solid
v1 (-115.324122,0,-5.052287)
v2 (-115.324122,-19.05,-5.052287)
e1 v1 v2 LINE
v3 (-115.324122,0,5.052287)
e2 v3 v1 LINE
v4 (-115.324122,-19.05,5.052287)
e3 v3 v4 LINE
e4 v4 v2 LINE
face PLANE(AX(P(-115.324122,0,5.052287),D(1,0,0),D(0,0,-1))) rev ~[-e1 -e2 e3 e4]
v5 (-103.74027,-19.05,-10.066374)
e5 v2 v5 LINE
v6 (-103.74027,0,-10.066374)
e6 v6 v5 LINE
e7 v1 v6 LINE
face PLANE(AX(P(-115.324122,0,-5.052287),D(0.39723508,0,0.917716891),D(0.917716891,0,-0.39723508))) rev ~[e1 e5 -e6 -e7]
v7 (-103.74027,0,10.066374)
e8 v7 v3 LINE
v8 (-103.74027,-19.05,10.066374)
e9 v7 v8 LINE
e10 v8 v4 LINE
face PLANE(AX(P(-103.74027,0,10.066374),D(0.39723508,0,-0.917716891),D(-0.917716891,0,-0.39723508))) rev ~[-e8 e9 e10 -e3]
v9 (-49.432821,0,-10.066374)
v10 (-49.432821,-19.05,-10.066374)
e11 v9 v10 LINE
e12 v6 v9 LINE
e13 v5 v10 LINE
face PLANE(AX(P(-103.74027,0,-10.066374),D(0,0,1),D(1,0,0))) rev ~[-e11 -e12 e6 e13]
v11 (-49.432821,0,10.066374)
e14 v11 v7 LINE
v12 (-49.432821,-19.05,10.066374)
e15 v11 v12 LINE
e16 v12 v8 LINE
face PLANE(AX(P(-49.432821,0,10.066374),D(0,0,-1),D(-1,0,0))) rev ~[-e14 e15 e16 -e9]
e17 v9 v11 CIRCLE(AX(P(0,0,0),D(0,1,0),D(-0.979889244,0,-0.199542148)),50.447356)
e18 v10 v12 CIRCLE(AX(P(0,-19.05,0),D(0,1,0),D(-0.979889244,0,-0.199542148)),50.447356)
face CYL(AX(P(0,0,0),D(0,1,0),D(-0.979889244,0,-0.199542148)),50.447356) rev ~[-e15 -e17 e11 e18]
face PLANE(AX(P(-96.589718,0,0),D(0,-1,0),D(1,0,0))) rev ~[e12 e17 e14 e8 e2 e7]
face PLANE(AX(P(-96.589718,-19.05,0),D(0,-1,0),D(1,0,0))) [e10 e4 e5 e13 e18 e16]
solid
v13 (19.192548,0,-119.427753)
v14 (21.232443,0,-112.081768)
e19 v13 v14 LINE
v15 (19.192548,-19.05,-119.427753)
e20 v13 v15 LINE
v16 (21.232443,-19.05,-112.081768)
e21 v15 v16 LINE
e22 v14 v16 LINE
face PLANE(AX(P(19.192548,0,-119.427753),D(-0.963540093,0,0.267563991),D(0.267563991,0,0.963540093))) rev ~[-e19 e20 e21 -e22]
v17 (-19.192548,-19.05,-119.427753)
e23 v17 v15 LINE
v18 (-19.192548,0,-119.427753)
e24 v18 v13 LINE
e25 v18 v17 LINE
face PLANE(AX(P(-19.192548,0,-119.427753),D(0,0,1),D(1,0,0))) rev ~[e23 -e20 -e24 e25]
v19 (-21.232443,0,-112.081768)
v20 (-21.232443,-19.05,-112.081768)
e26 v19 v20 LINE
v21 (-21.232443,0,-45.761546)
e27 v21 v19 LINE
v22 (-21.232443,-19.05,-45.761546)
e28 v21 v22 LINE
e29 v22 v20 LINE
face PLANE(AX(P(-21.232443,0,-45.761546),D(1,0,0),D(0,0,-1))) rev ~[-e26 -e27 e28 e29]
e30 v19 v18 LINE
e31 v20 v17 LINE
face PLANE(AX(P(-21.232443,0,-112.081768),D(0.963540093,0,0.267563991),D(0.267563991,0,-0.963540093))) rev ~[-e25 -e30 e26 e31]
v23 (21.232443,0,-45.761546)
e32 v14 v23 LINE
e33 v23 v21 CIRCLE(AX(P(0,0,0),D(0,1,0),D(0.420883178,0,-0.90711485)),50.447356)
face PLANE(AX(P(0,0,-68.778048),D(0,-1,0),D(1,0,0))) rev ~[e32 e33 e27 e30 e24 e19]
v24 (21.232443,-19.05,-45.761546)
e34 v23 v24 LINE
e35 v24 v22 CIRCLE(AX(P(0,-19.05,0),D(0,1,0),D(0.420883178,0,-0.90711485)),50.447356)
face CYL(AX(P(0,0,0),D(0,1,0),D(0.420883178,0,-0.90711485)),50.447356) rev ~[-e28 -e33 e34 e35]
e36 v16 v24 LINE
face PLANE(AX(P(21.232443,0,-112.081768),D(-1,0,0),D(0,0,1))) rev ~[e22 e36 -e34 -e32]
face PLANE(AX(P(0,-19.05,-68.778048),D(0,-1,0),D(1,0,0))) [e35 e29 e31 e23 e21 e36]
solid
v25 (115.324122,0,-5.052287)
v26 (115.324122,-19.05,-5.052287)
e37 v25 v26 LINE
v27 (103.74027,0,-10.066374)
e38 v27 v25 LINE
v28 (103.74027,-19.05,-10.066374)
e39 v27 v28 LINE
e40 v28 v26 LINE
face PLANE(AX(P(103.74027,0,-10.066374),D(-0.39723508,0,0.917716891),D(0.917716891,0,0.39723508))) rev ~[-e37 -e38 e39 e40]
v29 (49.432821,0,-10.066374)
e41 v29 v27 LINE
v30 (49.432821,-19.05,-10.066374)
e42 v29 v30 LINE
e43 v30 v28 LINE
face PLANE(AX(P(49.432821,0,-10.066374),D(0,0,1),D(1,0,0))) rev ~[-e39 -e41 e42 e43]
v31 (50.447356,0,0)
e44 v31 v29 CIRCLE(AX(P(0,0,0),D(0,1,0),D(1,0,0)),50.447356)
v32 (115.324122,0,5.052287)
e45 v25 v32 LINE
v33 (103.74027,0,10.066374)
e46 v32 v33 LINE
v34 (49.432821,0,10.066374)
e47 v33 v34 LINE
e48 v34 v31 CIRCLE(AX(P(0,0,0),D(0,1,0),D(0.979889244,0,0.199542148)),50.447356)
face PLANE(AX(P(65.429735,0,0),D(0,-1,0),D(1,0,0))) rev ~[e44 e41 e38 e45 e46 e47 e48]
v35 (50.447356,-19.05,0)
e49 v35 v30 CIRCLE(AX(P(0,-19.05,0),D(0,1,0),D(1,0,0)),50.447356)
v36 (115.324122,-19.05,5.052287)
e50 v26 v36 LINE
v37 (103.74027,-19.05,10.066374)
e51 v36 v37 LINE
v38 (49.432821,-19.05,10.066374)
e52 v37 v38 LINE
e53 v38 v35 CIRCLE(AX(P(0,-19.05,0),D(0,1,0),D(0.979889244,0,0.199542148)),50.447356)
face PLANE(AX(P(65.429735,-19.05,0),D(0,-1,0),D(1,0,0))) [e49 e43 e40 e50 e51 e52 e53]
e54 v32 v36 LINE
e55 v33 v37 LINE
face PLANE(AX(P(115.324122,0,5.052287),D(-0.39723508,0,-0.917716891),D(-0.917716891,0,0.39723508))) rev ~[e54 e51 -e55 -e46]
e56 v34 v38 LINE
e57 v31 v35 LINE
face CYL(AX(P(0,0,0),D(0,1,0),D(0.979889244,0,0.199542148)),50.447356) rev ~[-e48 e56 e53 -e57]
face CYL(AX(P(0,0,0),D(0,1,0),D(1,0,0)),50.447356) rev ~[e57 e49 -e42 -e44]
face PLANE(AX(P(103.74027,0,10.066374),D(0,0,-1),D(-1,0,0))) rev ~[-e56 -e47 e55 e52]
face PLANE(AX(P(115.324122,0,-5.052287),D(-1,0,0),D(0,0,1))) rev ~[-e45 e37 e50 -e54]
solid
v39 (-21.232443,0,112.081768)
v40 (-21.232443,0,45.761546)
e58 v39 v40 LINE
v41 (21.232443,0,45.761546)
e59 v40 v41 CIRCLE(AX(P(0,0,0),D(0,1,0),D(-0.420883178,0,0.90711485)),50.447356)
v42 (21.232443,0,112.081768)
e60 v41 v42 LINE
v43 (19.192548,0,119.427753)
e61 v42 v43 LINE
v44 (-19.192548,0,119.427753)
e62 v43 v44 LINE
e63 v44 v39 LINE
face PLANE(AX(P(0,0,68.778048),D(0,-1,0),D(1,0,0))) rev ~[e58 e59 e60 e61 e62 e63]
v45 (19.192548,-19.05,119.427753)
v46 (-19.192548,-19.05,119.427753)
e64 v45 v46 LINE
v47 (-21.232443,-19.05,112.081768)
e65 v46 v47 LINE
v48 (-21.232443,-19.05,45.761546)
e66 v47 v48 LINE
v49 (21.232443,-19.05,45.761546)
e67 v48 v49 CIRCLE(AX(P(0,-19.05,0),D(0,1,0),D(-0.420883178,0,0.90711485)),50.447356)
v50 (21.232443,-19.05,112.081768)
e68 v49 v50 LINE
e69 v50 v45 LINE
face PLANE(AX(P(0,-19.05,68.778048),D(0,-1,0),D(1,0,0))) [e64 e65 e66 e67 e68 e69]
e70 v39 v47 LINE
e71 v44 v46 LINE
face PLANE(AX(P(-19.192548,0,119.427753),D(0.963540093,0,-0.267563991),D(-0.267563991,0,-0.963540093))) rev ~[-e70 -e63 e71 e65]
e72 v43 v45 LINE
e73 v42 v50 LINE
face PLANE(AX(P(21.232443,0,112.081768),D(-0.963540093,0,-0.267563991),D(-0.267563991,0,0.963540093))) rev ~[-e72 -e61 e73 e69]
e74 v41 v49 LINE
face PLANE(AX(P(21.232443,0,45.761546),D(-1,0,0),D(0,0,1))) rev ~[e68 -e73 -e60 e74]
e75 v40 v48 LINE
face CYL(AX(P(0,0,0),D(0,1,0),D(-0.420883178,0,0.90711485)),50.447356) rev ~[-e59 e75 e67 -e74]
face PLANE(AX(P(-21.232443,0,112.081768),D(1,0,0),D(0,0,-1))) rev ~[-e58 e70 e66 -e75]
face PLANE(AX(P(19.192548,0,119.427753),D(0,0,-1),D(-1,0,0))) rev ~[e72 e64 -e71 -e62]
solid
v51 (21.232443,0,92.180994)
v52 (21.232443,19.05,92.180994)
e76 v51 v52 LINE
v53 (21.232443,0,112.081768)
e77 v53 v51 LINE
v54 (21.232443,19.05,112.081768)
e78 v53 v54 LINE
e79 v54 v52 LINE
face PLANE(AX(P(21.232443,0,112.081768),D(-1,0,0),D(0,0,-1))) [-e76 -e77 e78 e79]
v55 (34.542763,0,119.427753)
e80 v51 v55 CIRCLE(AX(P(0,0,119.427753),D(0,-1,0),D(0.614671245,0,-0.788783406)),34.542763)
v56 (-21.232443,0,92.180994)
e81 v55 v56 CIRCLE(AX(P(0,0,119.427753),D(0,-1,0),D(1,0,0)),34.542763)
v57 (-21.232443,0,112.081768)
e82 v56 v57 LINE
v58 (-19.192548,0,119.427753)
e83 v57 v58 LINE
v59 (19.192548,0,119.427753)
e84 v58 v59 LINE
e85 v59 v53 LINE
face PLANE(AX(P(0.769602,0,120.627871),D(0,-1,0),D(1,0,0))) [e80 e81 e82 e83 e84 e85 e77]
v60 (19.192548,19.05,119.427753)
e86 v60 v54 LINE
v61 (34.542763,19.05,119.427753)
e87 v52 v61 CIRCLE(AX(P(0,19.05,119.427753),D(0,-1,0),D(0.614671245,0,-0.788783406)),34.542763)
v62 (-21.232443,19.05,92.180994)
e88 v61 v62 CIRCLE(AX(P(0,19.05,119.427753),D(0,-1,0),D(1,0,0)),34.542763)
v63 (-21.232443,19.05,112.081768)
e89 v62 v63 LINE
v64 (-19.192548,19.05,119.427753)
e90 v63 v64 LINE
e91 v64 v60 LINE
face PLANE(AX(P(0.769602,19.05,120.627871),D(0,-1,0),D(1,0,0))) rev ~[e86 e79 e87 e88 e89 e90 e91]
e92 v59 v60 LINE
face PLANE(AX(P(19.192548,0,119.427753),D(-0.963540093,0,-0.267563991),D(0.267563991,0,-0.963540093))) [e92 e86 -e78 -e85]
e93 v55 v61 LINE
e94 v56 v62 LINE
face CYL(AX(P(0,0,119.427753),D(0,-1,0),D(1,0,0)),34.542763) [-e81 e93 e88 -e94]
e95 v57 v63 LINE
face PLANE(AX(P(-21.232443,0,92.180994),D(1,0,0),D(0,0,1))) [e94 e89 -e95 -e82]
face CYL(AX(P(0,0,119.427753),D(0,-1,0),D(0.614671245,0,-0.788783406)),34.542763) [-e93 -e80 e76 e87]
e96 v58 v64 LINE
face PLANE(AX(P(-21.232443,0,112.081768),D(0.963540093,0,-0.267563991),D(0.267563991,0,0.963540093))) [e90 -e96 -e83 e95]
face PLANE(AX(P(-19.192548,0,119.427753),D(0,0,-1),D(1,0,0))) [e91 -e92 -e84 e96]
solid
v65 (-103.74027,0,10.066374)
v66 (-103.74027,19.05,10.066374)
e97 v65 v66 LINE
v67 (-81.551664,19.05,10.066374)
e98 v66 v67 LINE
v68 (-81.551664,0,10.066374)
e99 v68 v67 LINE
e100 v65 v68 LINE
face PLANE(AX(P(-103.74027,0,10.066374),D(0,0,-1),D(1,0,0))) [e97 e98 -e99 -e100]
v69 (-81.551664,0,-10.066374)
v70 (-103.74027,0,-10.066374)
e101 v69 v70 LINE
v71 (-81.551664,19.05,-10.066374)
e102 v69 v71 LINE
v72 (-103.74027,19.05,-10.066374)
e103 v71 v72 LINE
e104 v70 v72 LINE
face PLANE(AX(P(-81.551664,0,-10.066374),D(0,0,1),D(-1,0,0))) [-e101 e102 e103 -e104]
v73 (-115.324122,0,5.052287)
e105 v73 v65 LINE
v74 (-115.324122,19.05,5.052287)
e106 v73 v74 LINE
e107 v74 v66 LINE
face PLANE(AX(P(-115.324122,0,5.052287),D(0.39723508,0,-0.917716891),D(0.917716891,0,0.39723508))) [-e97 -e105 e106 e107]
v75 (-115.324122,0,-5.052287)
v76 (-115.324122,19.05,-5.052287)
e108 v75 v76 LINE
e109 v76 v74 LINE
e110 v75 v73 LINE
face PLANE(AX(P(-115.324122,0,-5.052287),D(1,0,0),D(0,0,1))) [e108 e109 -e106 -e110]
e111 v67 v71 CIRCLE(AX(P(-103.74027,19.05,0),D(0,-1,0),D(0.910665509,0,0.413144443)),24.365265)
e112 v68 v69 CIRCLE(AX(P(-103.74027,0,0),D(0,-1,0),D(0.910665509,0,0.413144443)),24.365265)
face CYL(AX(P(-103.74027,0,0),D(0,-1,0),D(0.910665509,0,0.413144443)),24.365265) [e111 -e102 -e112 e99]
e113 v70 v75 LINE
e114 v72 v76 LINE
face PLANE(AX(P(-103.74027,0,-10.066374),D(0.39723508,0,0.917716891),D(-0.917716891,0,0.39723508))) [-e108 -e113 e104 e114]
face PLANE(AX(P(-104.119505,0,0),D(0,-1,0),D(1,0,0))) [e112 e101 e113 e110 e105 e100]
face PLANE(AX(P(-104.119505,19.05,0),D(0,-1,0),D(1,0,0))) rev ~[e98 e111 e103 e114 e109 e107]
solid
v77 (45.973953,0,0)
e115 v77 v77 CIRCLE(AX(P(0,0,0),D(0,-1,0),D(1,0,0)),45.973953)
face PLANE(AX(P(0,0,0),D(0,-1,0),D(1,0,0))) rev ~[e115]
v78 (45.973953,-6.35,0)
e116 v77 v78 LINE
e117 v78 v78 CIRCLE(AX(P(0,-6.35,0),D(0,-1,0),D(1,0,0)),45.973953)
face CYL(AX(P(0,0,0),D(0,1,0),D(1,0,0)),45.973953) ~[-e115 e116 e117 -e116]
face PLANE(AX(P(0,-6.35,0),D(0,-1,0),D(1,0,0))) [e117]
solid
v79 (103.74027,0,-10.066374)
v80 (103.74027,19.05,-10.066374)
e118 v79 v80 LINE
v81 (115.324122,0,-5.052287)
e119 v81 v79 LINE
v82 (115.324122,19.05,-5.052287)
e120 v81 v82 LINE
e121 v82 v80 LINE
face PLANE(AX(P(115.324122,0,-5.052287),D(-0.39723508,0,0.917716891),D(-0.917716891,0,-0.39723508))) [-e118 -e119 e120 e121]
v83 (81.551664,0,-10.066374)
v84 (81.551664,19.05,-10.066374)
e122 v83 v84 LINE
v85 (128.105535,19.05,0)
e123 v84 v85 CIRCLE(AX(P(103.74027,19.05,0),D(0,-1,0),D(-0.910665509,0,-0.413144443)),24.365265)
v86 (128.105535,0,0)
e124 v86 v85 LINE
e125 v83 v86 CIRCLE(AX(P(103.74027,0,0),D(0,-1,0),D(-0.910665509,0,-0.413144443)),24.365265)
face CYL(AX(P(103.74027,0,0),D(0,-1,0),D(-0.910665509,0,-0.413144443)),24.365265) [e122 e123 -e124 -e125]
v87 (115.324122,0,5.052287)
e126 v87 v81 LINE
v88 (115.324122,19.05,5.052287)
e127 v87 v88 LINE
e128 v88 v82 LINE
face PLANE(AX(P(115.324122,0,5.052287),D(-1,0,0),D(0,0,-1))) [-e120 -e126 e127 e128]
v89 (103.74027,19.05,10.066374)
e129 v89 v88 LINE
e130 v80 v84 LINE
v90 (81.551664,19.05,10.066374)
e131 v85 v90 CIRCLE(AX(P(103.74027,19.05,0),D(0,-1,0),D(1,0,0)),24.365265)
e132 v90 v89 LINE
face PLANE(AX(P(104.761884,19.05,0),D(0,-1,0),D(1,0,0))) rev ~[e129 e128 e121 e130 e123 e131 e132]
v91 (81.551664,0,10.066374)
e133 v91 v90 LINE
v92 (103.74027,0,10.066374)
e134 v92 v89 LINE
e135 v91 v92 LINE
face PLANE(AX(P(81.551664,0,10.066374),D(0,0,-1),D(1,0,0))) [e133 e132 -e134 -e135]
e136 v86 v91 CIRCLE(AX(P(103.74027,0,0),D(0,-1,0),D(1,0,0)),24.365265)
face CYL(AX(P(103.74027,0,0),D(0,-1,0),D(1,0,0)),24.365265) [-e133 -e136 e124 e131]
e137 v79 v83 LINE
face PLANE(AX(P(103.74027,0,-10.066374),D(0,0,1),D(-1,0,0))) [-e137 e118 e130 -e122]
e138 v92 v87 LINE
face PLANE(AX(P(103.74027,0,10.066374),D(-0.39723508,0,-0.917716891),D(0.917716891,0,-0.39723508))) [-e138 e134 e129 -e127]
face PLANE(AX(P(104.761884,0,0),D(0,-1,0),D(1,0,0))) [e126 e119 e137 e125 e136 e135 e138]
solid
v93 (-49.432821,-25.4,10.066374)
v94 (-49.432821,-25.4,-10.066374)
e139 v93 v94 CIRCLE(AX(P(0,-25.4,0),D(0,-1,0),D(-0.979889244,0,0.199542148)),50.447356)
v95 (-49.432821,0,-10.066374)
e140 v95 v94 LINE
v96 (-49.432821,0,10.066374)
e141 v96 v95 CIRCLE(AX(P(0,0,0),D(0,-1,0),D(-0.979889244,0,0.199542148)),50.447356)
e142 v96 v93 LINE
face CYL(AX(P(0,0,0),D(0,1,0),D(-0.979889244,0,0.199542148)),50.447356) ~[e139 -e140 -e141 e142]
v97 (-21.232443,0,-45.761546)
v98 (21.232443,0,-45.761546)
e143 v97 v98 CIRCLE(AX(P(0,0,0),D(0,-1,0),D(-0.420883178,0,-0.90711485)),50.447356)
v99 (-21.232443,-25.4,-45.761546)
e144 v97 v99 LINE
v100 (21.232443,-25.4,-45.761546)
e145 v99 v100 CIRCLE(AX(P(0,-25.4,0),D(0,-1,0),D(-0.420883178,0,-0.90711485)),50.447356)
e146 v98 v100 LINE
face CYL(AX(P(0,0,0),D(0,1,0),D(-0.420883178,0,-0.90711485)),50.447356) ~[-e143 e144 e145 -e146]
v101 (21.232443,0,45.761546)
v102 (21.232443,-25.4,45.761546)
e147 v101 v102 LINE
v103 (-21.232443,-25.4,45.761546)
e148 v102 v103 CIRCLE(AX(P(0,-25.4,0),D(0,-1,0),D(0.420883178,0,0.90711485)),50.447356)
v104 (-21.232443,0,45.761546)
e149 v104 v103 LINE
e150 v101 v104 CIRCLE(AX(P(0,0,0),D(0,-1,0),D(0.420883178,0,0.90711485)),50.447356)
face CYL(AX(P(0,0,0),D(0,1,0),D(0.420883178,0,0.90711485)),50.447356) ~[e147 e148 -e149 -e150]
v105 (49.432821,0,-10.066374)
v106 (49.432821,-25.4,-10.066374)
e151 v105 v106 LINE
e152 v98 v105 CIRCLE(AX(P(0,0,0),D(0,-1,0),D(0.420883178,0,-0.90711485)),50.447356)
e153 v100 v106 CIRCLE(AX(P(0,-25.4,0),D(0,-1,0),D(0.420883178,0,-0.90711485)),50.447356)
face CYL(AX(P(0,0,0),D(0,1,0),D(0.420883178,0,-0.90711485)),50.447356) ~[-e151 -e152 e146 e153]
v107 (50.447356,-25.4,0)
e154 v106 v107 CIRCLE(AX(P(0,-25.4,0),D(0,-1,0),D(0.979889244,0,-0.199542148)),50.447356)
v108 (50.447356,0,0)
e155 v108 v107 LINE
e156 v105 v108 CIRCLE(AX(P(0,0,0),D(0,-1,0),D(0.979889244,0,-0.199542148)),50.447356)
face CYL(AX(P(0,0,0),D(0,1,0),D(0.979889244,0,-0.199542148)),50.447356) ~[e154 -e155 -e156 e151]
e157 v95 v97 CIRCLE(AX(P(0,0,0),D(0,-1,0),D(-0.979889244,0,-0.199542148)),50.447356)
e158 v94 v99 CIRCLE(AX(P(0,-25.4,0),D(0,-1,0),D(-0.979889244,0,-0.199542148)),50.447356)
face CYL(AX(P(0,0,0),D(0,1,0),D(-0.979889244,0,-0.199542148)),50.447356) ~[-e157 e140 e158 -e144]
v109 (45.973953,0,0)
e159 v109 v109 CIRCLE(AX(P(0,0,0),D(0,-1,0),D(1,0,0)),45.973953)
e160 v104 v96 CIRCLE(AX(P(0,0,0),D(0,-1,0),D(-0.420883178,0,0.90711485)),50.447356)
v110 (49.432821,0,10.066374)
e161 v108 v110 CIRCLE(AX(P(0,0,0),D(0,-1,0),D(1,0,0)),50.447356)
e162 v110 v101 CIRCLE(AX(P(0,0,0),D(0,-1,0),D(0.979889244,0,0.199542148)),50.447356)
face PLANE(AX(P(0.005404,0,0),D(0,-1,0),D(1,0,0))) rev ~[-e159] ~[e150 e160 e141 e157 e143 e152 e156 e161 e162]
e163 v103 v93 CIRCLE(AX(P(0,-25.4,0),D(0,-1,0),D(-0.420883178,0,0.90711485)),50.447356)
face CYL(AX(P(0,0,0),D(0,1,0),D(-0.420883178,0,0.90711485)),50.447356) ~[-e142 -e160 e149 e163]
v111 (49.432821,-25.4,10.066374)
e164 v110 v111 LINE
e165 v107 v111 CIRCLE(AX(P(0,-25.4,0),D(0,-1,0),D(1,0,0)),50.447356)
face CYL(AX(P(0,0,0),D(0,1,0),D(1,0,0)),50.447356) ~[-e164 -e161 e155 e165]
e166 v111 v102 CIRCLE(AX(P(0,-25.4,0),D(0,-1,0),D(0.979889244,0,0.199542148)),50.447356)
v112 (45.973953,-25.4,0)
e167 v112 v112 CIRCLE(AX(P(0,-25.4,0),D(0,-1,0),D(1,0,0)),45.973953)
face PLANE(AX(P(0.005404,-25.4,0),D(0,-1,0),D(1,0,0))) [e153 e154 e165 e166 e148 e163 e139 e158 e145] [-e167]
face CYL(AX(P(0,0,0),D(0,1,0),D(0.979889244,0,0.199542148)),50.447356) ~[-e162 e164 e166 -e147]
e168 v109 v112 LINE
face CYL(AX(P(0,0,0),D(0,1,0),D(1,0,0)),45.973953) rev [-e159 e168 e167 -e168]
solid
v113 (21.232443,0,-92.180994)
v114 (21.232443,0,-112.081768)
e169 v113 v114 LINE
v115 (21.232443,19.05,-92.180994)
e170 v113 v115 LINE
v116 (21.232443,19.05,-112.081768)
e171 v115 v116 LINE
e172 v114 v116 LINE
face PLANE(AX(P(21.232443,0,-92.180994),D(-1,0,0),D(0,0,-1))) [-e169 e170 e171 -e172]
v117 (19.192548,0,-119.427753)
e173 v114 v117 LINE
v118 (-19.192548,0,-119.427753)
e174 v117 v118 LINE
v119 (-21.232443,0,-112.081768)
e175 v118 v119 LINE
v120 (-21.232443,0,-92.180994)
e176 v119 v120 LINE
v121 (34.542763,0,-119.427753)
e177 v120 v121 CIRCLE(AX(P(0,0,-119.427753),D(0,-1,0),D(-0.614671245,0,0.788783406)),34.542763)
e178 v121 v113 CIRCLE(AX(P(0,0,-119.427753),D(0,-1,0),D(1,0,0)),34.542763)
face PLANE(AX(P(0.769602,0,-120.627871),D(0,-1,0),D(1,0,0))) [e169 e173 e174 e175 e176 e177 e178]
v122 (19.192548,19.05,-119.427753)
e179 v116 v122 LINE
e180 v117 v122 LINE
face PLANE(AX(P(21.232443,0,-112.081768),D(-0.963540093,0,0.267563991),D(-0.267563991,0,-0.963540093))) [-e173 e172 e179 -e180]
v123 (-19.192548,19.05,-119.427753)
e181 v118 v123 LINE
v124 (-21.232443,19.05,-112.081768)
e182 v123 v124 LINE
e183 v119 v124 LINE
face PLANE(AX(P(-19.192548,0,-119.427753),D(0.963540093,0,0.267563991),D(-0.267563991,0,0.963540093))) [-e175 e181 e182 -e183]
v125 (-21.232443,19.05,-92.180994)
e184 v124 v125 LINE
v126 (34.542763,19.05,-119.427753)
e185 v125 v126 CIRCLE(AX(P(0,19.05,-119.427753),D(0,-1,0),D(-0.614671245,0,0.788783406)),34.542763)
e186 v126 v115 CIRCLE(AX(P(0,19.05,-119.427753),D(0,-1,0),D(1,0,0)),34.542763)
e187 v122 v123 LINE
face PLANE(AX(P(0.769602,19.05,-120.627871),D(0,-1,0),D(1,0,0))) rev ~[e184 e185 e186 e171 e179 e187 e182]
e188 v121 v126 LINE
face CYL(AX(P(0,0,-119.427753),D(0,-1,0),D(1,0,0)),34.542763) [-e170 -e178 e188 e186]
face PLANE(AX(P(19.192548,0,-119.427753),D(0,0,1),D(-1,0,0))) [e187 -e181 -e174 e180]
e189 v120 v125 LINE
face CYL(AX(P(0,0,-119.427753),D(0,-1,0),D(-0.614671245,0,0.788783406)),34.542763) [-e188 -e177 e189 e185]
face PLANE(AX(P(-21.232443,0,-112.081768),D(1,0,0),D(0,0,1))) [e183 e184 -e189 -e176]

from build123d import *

# Parameters (mm, degrees)
F0_R     = 45.9739525872
F1_DEPTH = 6.35
F2_DEPTH = 25.4
F3_DEPTH = 19.05
F4_DEPTH = 19.05


with BuildPart() as f1:
    # F0 (on Front) → F1 (new body)
    with BuildSketch(Plane.XZ):
        Circle(F0_R)
    extrude(amount=F1_DEPTH)


with BuildPart() as f2:
    # F0 (on Front) → F2 (new body)
    with BuildSketch(Plane.XZ):
        with BuildLine():
            ThreePointArc((49.4328212787, -10.0663737277), (50.1930812917, -5.0586846158), (50.4473557245, 0))
            ThreePointArc((50.4473557245, 0), (50.1930812917, 5.0586846158), (49.4328212787, 10.0663737277))
            ThreePointArc((49.4328212787, 10.0663737277), (39.5844821809, 31.2730630106), (21.2324433808, 45.7615455124))
            ThreePointArc((21.2324433808, 45.7615455124), (0, 50.4473557245), (-21.2324433808, 45.7615455124))
            ThreePointArc((-21.2324433808, 45.7615455124), (-39.5844821809, 31.2730630106), (-49.4328212787, 10.0663737277))
            ThreePointArc((-49.4328212787, 10.0663737277), (-50.4473557245, 0), (-49.4328212787, -10.0663737277))
            ThreePointArc((-49.4328212787, -10.0663737277), (-39.5844821809, -31.2730630106), (-21.2324433808, -45.7615455124))
            ThreePointArc((-21.2324433808, -45.7615455124), (0, -50.4473557245), (21.2324433808, -45.7615455124))
            ThreePointArc((21.2324433808, -45.7615455124), (39.5844821809, -31.2730630106), (49.4328212787, -10.0663737277))
        make_face()
        Circle(F0_R, mode=Mode.SUBTRACT)
    extrude(amount=F2_DEPTH)


with BuildPart() as f3:
    # F0 (on Front) → F3 (new body)
    with BuildSketch(Plane.XZ):
        with BuildLine():
            ThreePointArc((-79.3750054435, 0), (-79.9253862812, 5.1495078004), (-81.5516639655, 10.0663737277))
            Line((-81.5516639655, 10.0663737277), (-103.7402702002, 10.0663737277))
            Line((-103.7402702002, 10.0663737277), (-115.3241221478, 5.0522867017))
            Line((-115.3241221478, 5.0522867017), (-115.3241221478, -5.0522867017))
            Line((-115.3241221478, -5.0522867017), (-103.7402702002, -10.0663737277))
            Line((-103.7402702002, -10.0663737277), (-81.5516639655, -10.0663737277))
            ThreePointArc((-81.5516639655, -10.0663737277), (-79.9253862812, -5.1495078004), (-79.3750054435, 0))
        make_face()
        with BuildLine():
            ThreePointArc((-49.4328212787, -10.0663737277), (-50.4473557245, 0), (-49.4328212787, 10.0663737277))
            Line((-49.4328212787, 10.0663737277), (-81.5516639655, 10.0663737277))
            ThreePointArc((-81.5516639655, 10.0663737277), (-79.9253862812, 5.1495078004), (-79.3750054435, 0))
            ThreePointArc((-79.3750054435, 0), (-79.9253862812, -5.1495078004), (-81.5516639655, -10.0663737277))
            Line((-81.5516639655, -10.0663737277), (-49.4328212787, -10.0663737277))
        make_face()
    extrude(amount=F3_DEPTH)


with BuildPart() as f3b:
    # F0 (on Front) → F3, piece 2 (new body)
    with BuildSketch(Plane.XZ):
        with BuildLine():
            ThreePointArc((49.4328212787, 10.0663737277), (50.1930812917, 5.0586846158), (50.4473557245, 0))
            ThreePointArc((50.4473557245, 0), (50.1930812917, -5.0586846158), (49.4328212787, -10.0663737277))
            Line((49.4328212787, -10.0663737277), (81.5516639655, -10.0663737277))
            ThreePointArc((81.5516639655, -10.0663737277), (79.3750054435, 0), (81.5516639655, 10.0663737277))
            Line((81.5516639655, 10.0663737277), (49.4328212787, 10.0663737277))
        make_face()
        with BuildLine():
            Line((103.7402702002, 10.0663737277), (81.5516639655, 10.0663737277))
            ThreePointArc((81.5516639655, 10.0663737277), (79.3750054435, 0), (81.5516639655, -10.0663737277))
            Line((81.5516639655, -10.0663737277), (103.7402702002, -10.0663737277))
            Line((103.7402702002, -10.0663737277), (115.3241221478, -5.0522867017))
            Line((115.3241221478, -5.0522867017), (115.3241221478, 5.0522867017))
            Line((115.3241221478, 5.0522867017), (103.7402702002, 10.0663737277))
        make_face()
    extrude(amount=F3_DEPTH)


with BuildPart() as f3c:
    # F0 (on Front) → F3, piece 3 (new body)
    with BuildSketch(Plane.XZ):
        with BuildLine():
            ThreePointArc((-21.2324433808, 45.7615455124), (0, 50.4473557245), (21.2324433808, 45.7615455124))
            Line((21.2324433808, 45.7615455124), (21.2324433808, 92.1809940965))
            ThreePointArc((21.2324433808, 92.1809940965), (0, 84.8849892461), (-21.2324433808, 92.1809940965))
            Line((-21.2324433808, 92.1809940965), (-21.2324433808, 45.7615455124))
        make_face()
        with BuildLine():
            ThreePointArc((-21.2324433808, 92.1809940965), (0, 84.8849892461), (21.2324433808, 92.1809940965))
            Line((21.2324433808, 92.1809940965), (21.2324433808, 112.0817683699))
            Line((21.2324433808, 112.0817683699), (19.1925481176, 119.4277526507))
            Line((19.1925481176, 119.4277526507), (0, 119.4277526507))
            Line((0, 119.4277526507), (-19.1925481176, 119.4277526507))
            Line((-19.1925481176, 119.4277526507), (-21.2324433808, 112.0817683699))
            Line((-21.2324433808, 112.0817683699), (-21.2324433808, 92.1809940965))
        make_face()
    extrude(amount=F3_DEPTH)


with BuildPart() as f3d:
    # F0 (on Front) → F3, piece 4 (new body)
    with BuildSketch(Plane.XZ):
        with BuildLine():
            Line((21.2324433808, -92.1809940965), (21.2324433808, -45.7615455124))
            ThreePointArc((21.2324433808, -45.7615455124), (0, -50.4473557245), (-21.2324433808, -45.7615455124))
            Line((-21.2324433808, -45.7615455124), (-21.2324433808, -92.1809940965))
            ThreePointArc((-21.2324433808, -92.1809940965), (0, -84.8849892461), (21.2324433808, -92.1809940965))
        make_face()
        with BuildLine():
            Line((21.2324433808, -112.0817683699), (21.2324433808, -92.1809940965))
            ThreePointArc((21.2324433808, -92.1809940965), (0, -84.8849892461), (-21.2324433808, -92.1809940965))
            Line((-21.2324433808, -92.1809940965), (-21.2324433808, -112.0817683699))
            Line((-21.2324433808, -112.0817683699), (-19.1925481176, -119.4277526507))
            Line((-19.1925481176, -119.4277526507), (0, -119.4277526507))
            Line((0, -119.4277526507), (19.1925481176, -119.4277526507))
            Line((19.1925481176, -119.4277526507), (21.2324433808, -112.0817683699))
        make_face()
    extrude(amount=F3_DEPTH)


with BuildPart() as f4:
    # F0 (on Front) → F4 (new body)
    with BuildSketch(Plane.XZ):
        with BuildLine():
            Line((21.2324433808, 112.0817683699), (21.2324433808, 92.1809940965))
            ThreePointArc((21.2324433808, 92.1809940965), (31.0373144121, 104.2657073496), (34.5427634046, 119.4277526507))
            ThreePointArc((34.5427634046, 119.4277526507), (-15.1620453011, 150.4650670629), (-21.2324433808, 92.1809940965))
            Line((-21.2324433808, 92.1809940965), (-21.2324433808, 112.0817683699))
            Line((-21.2324433808, 112.0817683699), (-19.1925481176, 119.4277526507))
            Line((-19.1925481176, 119.4277526507), (0, 119.4277526507))
            Line((0, 119.4277526507), (19.1925481176, 119.4277526507))
            Line((19.1925481176, 119.4277526507), (21.2324433808, 112.0817683699))
        make_face()
    extrude(amount=-F4_DEPTH)


with BuildPart() as f4b:
    # F0 (on Front) → F4, piece 2 (new body)
    with BuildSketch(Plane.XZ):
        with BuildLine():
            ThreePointArc((34.5427634046, -119.4277526507), (31.0373144121, -104.2657073496), (21.2324433808, -92.1809940965))
            Line((21.2324433808, -92.1809940965), (21.2324433808, -112.0817683699))
            Line((21.2324433808, -112.0817683699), (19.1925481176, -119.4277526507))
            Line((19.1925481176, -119.4277526507), (0, -119.4277526507))
            Line((0, -119.4277526507), (-19.1925481176, -119.4277526507))
            Line((-19.1925481176, -119.4277526507), (-21.2324433808, -112.0817683699))
            Line((-21.2324433808, -112.0817683699), (-21.2324433808, -92.1809940965))
            ThreePointArc((-21.2324433808, -92.1809940965), (-15.1620453011, -150.4650670629), (34.5427634046, -119.4277526507))
        make_face()
    extrude(amount=-F4_DEPTH)


with BuildPart() as f4c:
    # F0 (on Front) → F4, piece 3 (new body)
    with BuildSketch(Plane.XZ):
        with BuildLine():
            Line((-103.7402702002, 10.0663737277), (-81.5516639655, 10.0663737277))
            ThreePointArc((-81.5516639655, 10.0663737277), (-128.1055349569, 0), (-81.5516639655, -10.0663737277))
            Line((-81.5516639655, -10.0663737277), (-103.7402702002, -10.0663737277))
            Line((-103.7402702002, -10.0663737277), (-115.3241221478, -5.0522867017))
            Line((-115.3241221478, -5.0522867017), (-115.3241221478, 5.0522867017))
            Line((-115.3241221478, 5.0522867017), (-103.7402702002, 10.0663737277))
        make_face()
    extrude(amount=-F4_DEPTH)


with BuildPart() as f4d:
    # F0 (on Front) → F4, piece 4 (new body)
    with BuildSketch(Plane.XZ):
        with BuildLine():
            ThreePointArc((128.1055349569, 0), (108.8897780006, 23.814883919), (81.5516639655, 10.0663737277))
            Line((81.5516639655, 10.0663737277), (103.7402702002, 10.0663737277))
            Line((103.7402702002, 10.0663737277), (115.3241221478, 5.0522867017))
            Line((115.3241221478, 5.0522867017), (115.3241221478, -5.0522867017))
            Line((115.3241221478, -5.0522867017), (103.7402702002, -10.0663737277))
            Line((103.7402702002, -10.0663737277), (81.5516639655, -10.0663737277))
            ThreePointArc((81.5516639655, -10.0663737277), (108.8897780006, -23.814883919), (128.1055349569, 0))
        make_face()
    extrude(amount=-F4_DEPTH)


solid = Compound([f1.part, f2.part, f3.part, f3b.part, f3c.part, f3d.part, f4.part, f4b.part, f4c.part, f4d.part])
